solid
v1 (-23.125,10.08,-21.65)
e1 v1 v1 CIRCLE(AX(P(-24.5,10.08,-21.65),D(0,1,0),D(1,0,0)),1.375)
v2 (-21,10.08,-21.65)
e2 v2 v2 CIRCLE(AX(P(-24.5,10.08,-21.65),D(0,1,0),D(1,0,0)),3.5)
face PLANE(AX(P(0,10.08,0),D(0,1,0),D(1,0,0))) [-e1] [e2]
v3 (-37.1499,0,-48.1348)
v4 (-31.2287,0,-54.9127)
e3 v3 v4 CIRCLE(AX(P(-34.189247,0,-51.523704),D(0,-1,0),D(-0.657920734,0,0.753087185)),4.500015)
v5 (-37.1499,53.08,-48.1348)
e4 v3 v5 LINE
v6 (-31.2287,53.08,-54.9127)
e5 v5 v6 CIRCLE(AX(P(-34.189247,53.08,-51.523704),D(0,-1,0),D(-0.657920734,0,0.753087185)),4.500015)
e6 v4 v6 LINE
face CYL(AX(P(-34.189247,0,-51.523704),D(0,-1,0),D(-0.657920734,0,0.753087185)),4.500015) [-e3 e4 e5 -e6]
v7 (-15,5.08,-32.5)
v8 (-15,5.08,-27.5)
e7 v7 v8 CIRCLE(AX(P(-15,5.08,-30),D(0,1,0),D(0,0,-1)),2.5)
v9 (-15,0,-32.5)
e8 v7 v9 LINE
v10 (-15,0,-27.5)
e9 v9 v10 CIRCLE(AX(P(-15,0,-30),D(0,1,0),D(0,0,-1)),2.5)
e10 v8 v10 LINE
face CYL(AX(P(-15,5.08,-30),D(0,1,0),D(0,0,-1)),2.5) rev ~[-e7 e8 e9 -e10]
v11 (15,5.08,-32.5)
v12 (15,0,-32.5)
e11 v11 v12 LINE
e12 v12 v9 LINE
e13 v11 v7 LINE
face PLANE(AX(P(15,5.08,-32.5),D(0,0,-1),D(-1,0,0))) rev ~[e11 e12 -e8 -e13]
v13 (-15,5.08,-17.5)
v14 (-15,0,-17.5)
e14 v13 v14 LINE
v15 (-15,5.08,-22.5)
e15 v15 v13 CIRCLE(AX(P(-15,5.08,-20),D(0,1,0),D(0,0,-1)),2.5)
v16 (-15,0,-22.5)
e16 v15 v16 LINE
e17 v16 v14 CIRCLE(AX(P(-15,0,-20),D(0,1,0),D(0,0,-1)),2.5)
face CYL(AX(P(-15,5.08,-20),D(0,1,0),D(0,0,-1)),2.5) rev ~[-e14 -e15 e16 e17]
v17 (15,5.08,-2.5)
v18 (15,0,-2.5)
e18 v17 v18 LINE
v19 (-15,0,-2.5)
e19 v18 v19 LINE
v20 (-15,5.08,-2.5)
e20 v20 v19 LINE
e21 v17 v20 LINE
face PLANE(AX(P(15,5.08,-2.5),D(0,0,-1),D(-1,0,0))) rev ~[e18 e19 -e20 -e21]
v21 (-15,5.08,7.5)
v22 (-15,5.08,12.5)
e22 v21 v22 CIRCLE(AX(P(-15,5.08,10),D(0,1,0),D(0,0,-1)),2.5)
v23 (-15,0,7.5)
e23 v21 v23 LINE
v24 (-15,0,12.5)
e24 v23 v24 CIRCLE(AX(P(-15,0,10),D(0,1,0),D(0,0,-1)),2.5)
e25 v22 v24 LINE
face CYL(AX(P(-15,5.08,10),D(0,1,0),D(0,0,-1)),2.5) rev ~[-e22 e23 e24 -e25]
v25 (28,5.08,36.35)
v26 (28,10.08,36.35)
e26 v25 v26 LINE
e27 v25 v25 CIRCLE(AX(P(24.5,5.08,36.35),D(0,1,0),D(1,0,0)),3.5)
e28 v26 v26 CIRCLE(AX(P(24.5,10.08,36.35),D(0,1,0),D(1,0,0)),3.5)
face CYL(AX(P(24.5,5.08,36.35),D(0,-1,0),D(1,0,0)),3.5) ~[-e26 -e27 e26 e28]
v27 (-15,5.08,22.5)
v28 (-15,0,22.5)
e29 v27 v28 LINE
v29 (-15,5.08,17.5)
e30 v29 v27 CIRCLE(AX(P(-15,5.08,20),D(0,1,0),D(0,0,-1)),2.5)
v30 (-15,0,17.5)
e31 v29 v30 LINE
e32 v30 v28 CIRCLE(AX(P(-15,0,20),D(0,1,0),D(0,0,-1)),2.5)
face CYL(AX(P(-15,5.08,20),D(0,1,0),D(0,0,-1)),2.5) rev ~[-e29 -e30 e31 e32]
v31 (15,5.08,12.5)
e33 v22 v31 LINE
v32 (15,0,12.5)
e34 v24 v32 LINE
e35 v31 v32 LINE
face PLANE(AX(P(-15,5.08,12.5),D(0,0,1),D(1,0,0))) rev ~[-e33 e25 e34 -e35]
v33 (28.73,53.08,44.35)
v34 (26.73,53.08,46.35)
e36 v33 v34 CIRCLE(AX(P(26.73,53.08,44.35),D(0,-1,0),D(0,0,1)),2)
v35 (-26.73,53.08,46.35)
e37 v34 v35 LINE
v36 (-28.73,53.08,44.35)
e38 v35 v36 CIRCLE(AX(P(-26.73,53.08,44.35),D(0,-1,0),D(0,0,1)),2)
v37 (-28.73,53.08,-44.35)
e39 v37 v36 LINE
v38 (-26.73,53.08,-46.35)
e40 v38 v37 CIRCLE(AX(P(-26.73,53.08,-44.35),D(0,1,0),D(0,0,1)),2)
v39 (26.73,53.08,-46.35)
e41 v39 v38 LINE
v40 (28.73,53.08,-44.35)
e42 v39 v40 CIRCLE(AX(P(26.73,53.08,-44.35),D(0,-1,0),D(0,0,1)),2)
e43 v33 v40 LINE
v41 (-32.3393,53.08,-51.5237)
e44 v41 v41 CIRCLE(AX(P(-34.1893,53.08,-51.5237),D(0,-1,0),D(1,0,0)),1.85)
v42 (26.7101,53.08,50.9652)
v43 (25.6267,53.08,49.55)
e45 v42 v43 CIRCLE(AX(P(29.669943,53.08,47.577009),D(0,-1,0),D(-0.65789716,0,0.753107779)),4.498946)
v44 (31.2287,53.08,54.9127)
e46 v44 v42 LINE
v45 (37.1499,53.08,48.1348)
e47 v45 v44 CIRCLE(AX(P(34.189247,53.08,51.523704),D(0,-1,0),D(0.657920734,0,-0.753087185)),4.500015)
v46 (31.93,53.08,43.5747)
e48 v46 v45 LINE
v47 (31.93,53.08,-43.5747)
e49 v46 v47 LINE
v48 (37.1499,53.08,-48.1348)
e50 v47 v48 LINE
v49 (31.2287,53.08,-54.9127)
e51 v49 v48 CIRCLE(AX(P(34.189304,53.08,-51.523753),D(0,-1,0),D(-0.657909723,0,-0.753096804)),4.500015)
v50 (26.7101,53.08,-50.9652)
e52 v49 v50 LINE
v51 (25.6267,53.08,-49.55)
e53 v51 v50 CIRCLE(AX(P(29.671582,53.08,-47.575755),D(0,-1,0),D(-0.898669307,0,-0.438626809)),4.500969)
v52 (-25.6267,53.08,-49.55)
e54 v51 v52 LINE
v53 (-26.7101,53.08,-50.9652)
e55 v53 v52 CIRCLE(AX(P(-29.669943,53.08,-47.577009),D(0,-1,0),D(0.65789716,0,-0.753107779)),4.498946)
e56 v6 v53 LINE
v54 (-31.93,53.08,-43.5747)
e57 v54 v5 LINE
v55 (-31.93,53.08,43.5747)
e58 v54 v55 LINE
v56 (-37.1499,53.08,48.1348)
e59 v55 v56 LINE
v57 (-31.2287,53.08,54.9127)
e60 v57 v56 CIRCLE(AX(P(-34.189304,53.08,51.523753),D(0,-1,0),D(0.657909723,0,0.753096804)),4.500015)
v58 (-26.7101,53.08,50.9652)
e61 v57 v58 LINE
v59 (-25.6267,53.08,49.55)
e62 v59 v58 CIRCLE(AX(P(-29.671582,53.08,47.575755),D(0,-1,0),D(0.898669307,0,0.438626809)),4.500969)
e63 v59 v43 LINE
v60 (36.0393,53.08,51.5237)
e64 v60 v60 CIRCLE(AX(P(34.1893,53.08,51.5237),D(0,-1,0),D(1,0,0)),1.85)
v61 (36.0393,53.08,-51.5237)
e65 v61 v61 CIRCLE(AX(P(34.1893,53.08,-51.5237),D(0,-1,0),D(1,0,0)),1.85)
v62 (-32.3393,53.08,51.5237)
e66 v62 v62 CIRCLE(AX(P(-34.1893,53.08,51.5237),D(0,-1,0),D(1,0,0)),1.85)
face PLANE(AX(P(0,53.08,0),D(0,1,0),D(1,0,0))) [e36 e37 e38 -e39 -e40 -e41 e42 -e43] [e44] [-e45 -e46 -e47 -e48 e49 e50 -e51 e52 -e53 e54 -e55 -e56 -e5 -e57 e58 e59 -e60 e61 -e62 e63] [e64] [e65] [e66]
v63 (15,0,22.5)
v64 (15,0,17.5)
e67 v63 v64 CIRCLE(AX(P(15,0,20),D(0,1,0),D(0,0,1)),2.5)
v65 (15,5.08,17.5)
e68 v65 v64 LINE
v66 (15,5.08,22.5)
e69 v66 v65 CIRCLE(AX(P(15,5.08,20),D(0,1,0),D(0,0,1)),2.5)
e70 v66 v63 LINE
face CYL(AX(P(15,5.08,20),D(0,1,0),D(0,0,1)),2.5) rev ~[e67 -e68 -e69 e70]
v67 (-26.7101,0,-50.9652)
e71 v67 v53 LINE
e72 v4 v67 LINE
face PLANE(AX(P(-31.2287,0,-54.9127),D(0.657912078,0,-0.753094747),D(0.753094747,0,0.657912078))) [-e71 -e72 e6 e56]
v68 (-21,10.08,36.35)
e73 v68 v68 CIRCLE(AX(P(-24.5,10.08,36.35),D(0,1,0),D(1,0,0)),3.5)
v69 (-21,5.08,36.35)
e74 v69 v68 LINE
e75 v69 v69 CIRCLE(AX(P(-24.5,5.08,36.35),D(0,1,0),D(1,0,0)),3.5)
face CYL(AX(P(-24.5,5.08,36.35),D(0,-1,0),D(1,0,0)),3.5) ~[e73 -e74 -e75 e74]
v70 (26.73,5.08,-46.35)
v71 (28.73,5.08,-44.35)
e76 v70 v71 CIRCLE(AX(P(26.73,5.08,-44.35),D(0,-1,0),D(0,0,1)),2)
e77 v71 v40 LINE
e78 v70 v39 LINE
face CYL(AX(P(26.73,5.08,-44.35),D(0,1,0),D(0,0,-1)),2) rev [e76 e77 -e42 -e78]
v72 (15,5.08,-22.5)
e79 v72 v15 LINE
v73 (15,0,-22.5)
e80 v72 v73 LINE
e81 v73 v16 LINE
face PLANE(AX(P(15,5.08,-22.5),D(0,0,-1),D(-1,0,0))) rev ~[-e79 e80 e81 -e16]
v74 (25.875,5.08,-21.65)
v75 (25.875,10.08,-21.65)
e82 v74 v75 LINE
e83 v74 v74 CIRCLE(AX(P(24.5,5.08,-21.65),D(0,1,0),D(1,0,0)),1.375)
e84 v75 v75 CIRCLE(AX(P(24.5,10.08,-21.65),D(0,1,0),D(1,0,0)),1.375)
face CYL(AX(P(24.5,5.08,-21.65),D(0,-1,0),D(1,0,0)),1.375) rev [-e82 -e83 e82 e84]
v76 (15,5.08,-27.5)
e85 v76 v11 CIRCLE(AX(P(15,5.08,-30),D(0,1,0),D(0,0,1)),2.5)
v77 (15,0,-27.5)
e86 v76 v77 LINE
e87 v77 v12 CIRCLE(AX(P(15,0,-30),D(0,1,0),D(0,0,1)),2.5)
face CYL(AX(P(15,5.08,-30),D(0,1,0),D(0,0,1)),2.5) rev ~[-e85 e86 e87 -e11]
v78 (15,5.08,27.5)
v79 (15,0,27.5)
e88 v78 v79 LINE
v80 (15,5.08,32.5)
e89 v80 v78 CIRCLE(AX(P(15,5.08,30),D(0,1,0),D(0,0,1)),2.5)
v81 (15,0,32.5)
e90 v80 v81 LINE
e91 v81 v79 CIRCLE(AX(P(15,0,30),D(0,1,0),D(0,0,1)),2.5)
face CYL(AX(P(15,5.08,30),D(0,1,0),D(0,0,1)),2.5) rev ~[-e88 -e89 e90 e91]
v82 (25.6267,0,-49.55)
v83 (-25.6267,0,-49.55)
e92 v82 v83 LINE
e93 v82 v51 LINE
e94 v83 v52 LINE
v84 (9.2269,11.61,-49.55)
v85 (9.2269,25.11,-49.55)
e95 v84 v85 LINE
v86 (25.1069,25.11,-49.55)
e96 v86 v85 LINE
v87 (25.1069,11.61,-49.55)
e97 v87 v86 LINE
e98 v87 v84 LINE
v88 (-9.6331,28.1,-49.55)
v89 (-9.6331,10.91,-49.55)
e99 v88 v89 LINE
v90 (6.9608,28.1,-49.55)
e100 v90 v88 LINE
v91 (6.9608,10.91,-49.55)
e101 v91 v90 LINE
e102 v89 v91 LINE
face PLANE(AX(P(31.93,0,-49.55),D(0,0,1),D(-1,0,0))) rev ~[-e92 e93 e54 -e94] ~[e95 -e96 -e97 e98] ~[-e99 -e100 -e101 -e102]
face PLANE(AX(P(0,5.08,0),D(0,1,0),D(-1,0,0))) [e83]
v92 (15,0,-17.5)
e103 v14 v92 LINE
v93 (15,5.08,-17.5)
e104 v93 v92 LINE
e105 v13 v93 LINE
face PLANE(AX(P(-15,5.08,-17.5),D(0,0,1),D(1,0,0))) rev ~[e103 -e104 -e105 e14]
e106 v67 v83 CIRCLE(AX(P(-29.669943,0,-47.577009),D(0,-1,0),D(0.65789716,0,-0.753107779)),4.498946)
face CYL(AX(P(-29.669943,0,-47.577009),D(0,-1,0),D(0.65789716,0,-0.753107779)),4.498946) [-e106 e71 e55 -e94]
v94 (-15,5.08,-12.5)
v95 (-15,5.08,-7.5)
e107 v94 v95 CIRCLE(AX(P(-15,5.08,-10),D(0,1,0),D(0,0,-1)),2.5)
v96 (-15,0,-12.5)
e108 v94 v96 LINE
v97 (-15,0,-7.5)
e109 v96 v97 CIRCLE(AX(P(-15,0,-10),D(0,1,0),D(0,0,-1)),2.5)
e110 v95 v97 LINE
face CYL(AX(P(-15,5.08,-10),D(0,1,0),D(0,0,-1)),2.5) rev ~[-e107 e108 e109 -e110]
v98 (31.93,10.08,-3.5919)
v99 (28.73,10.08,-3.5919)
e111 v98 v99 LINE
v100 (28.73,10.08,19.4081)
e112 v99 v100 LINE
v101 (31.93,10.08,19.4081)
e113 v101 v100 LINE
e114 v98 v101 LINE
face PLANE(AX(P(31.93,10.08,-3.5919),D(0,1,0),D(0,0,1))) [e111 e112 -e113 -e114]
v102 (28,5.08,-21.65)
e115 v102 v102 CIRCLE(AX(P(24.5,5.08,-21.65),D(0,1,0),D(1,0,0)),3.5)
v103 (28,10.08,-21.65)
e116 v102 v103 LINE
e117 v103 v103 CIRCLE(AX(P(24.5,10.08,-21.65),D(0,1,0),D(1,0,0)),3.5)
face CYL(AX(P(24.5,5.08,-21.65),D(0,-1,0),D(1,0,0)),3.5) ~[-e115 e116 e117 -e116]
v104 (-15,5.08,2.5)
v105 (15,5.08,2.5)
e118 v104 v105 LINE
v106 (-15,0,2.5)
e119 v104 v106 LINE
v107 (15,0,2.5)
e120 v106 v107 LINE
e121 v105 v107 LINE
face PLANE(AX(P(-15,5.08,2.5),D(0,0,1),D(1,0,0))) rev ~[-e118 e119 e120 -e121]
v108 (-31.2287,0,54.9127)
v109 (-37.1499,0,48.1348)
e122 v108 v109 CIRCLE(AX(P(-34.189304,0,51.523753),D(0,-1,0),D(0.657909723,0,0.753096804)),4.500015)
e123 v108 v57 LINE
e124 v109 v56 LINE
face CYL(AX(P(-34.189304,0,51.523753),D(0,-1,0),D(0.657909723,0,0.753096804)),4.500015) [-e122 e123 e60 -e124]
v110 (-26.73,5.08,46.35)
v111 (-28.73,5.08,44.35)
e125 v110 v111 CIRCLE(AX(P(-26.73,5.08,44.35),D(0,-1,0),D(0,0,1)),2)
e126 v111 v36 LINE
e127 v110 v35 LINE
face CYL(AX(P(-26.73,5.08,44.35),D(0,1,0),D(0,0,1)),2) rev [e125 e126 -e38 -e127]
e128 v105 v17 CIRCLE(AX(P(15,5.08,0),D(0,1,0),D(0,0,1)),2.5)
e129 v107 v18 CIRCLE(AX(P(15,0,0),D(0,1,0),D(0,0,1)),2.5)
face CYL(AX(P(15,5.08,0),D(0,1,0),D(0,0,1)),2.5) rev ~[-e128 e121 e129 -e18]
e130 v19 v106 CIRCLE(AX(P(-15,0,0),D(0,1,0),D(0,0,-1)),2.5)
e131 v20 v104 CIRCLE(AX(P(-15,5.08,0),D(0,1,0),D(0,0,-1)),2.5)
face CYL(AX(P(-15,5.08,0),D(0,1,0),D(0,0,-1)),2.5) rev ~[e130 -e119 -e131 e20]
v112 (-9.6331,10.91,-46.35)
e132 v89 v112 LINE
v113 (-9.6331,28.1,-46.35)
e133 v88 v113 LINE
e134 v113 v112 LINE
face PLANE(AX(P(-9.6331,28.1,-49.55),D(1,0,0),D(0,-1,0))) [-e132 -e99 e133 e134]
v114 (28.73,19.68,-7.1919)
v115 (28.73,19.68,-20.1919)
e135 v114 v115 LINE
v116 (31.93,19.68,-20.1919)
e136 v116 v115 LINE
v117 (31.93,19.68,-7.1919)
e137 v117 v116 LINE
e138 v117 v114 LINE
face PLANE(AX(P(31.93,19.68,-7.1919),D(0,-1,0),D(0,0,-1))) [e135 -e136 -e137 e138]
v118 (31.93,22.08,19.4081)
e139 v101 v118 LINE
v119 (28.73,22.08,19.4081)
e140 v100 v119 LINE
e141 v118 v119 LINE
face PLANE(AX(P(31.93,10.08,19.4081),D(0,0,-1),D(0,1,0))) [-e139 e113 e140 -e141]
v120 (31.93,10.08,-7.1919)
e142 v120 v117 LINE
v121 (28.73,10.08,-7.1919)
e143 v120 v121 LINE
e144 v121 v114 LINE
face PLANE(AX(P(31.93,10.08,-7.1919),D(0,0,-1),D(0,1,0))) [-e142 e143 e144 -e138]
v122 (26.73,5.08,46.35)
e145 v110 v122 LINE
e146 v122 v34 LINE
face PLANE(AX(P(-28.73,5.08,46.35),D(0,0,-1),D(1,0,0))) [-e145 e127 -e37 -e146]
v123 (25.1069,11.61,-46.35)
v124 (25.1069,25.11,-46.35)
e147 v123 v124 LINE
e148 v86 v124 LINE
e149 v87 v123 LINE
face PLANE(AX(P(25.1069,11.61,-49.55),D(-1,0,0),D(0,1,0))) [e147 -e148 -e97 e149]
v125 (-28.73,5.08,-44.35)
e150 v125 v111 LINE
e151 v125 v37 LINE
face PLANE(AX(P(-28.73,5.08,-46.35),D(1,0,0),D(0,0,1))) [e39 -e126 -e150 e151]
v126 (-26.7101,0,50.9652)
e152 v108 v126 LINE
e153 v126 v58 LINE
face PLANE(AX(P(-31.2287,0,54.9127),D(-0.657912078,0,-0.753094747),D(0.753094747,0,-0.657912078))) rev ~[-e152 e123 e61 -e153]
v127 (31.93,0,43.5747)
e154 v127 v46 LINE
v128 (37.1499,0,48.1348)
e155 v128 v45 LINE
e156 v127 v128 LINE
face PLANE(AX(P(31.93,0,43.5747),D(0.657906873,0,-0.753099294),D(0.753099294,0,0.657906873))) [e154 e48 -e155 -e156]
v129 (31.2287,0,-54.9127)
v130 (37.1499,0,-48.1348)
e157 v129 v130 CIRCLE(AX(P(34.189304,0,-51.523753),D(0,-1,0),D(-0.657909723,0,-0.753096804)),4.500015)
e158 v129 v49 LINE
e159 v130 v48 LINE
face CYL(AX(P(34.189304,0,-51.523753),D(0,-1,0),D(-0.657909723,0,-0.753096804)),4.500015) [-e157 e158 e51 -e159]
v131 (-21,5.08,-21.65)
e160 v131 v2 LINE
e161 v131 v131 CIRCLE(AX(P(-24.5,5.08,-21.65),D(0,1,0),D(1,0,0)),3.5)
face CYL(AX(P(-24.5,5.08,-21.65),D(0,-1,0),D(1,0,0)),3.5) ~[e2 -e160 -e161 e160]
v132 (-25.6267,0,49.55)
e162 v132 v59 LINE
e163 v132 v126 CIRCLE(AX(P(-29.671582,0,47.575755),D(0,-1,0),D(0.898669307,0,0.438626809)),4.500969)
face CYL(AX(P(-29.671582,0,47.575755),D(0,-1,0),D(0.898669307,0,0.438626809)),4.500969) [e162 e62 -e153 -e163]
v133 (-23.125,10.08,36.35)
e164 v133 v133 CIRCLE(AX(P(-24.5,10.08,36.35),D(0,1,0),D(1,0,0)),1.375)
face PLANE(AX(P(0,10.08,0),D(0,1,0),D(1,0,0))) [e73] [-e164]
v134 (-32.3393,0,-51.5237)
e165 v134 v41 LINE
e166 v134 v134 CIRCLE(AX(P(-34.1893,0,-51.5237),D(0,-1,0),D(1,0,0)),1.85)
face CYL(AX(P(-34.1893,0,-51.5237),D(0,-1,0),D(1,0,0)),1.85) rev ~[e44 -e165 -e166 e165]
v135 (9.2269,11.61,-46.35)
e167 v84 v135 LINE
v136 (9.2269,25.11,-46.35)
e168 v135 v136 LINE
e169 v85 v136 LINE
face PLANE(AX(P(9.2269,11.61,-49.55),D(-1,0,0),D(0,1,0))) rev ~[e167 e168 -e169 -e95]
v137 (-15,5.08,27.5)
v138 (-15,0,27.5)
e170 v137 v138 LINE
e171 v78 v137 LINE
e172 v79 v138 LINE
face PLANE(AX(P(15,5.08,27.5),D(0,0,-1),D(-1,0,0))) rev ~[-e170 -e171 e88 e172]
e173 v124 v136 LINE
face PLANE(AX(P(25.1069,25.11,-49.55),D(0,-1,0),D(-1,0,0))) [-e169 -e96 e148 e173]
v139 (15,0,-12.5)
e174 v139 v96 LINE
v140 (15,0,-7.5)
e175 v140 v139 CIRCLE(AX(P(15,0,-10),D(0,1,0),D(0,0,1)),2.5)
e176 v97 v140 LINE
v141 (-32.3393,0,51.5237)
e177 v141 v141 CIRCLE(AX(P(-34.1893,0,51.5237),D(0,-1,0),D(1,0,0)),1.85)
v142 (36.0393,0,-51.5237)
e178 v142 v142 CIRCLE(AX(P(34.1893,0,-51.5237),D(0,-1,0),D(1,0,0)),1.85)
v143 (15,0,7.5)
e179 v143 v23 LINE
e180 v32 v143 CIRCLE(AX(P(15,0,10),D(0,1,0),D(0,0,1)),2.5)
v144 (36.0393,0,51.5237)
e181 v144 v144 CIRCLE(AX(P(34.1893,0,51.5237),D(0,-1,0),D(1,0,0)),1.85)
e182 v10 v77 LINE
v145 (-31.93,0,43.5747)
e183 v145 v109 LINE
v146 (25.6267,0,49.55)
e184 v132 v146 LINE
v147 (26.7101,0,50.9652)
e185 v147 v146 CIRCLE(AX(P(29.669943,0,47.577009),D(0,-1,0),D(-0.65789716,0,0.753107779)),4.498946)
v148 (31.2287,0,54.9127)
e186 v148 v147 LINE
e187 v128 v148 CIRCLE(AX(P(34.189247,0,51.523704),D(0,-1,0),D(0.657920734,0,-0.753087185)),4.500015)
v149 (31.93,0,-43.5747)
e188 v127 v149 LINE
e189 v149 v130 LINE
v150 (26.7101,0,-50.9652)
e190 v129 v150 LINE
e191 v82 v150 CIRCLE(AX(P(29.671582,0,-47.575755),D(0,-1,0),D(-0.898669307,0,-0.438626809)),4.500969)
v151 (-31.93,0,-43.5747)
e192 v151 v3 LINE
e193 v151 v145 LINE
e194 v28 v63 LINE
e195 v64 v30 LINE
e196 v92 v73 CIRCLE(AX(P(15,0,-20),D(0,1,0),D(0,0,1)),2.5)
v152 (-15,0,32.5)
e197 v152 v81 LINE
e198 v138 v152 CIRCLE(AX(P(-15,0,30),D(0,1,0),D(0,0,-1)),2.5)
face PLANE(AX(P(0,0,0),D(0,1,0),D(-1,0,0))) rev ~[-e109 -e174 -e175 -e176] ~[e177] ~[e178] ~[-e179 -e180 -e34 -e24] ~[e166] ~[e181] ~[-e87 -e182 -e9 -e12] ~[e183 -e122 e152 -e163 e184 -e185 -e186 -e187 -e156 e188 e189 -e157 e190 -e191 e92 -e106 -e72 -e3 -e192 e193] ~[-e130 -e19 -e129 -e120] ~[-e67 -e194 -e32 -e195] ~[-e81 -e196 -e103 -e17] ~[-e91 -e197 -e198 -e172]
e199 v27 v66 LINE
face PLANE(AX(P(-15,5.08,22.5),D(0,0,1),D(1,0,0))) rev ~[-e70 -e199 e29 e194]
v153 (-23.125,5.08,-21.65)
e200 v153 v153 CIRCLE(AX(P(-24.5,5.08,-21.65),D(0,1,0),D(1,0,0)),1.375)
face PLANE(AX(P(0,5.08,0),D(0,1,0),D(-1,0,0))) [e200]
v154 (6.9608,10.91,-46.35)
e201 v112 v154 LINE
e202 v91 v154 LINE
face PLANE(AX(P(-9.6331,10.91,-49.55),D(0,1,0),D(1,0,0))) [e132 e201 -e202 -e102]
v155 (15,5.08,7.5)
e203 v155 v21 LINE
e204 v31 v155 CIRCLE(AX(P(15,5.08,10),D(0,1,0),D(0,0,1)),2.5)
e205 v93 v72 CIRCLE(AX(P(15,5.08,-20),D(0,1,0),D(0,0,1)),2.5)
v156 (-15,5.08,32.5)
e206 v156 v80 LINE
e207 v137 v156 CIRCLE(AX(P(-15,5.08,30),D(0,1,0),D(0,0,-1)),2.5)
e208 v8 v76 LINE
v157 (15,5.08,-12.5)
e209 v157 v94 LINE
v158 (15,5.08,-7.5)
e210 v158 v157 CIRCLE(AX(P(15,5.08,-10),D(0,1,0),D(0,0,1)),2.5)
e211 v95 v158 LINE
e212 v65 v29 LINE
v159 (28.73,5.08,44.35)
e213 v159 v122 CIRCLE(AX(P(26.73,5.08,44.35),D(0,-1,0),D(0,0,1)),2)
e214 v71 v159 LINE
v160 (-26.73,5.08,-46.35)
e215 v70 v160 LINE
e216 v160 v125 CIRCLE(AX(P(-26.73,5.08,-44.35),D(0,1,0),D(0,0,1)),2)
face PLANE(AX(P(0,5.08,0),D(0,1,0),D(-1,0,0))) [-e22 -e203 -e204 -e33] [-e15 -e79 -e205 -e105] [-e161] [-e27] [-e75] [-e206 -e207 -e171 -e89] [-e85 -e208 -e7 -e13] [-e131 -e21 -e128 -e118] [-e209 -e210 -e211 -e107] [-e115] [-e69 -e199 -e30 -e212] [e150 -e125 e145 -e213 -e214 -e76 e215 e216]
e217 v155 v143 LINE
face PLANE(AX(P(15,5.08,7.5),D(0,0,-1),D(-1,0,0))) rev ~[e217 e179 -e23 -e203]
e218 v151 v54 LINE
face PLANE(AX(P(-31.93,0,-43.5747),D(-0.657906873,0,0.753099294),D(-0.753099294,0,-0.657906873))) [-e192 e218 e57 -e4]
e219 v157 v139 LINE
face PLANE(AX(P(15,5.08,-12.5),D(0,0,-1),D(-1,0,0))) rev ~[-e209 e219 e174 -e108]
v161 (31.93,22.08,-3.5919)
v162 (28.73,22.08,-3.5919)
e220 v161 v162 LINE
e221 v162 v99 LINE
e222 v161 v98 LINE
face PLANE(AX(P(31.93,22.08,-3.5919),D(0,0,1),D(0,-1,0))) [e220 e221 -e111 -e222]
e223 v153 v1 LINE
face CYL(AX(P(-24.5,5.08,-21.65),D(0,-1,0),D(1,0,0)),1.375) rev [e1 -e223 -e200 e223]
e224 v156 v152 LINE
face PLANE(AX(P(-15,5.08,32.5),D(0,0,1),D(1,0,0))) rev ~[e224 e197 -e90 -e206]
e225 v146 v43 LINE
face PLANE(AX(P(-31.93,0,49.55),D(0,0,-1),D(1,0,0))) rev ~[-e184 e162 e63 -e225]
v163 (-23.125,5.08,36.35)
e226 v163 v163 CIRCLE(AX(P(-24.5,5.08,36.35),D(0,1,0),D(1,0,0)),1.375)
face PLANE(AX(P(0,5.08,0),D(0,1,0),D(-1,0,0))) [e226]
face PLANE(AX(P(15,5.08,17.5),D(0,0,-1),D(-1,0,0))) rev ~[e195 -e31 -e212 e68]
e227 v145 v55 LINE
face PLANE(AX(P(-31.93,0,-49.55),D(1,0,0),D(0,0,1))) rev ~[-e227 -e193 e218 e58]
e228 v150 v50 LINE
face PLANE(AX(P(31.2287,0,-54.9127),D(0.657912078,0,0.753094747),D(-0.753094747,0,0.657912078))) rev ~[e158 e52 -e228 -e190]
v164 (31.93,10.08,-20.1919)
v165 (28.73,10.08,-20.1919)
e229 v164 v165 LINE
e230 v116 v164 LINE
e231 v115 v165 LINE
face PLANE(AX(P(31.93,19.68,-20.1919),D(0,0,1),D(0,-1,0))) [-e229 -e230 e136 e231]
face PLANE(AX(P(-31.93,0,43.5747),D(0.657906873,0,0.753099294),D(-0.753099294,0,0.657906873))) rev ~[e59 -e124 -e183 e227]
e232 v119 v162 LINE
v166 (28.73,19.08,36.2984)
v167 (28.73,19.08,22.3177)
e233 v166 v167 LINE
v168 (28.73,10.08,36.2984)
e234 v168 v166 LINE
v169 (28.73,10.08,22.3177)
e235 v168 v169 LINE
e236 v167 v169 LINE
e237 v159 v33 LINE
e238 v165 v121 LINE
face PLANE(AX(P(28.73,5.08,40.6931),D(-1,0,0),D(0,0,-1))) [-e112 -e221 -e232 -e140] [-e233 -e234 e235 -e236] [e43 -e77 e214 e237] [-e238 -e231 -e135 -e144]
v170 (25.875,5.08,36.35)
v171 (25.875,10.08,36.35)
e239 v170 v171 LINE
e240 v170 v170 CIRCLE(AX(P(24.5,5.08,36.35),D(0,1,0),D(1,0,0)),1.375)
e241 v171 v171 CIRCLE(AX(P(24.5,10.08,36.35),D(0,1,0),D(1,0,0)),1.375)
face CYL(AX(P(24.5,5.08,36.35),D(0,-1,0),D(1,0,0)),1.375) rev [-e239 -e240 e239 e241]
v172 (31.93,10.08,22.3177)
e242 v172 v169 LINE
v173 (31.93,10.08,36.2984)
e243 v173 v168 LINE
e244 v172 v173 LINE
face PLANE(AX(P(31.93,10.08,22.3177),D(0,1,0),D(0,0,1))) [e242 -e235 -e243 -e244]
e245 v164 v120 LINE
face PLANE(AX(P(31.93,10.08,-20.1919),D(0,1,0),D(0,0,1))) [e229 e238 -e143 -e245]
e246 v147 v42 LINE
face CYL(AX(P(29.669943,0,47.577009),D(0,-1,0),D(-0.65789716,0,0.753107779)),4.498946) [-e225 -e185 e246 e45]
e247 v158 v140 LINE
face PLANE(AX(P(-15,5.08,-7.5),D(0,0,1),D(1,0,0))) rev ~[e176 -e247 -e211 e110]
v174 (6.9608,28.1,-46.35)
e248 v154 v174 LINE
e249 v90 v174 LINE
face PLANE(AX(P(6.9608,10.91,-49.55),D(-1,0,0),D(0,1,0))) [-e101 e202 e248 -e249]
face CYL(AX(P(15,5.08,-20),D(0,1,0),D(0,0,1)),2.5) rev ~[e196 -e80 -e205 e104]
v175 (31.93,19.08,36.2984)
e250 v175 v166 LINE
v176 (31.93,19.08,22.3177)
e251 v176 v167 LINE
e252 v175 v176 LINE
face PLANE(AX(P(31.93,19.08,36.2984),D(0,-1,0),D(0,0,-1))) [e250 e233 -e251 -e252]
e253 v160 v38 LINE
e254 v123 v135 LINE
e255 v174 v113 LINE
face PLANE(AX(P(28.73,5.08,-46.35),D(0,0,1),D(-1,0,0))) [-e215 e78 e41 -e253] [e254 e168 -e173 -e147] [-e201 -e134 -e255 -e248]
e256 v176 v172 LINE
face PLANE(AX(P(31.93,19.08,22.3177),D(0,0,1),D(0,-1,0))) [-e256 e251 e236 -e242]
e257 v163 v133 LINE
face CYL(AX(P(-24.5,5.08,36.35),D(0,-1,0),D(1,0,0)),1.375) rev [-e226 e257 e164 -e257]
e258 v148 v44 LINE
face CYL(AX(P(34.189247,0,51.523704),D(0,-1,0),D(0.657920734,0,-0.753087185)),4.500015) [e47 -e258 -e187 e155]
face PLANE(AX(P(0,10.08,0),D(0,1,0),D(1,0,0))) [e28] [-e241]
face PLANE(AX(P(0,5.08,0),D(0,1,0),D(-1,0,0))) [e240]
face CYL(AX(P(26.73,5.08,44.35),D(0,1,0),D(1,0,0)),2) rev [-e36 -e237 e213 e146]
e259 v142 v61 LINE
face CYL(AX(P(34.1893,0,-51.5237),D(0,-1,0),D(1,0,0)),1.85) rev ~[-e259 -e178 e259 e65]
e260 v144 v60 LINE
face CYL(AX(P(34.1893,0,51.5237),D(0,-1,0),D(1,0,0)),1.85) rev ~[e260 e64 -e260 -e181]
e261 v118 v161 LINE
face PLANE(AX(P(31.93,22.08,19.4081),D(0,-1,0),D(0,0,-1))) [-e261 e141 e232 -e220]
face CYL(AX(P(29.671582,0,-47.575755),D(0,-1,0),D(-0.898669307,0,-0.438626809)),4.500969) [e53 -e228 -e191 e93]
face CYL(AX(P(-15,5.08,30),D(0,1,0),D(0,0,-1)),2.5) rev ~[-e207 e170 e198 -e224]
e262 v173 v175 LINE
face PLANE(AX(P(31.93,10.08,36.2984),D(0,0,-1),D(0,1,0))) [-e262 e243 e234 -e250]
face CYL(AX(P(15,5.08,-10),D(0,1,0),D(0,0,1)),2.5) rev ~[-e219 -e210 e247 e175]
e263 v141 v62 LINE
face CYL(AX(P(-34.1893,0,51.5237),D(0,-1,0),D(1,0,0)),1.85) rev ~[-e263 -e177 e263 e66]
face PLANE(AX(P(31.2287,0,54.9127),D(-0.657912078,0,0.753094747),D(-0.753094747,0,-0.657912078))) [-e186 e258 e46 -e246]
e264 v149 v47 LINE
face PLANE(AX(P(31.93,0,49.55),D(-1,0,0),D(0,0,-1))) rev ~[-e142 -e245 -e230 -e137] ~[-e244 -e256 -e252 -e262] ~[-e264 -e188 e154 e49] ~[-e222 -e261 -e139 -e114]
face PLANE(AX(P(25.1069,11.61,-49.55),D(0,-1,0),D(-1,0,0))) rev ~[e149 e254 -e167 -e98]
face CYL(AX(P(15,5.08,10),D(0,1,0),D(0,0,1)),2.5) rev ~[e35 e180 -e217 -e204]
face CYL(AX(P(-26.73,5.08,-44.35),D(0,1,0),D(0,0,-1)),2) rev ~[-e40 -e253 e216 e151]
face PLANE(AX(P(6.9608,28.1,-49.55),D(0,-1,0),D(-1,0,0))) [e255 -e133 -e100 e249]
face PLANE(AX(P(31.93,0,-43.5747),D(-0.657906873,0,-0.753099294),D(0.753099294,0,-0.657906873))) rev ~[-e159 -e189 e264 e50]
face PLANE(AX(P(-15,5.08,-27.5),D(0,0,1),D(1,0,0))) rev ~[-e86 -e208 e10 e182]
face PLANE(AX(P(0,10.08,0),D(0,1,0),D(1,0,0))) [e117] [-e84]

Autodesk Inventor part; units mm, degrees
ref_plane "YZ Plane" through (0, 0, 0) normal (1, 0, 0) x (0, 1, 0)
ref_plane "XZ Plane" through (0, 0, 0) normal (0, 1, 0) x (-1, 0, 0)
ref_plane "XY Plane" through (0, 0, 0) normal (0, 0, 1) x (1, 0, 0)
sketch "Sketch1" plane through (0, 0, 0) normal (0, 1, 0) x (-1, 0, 0)
  line L0 (-31.93, -49.55) -> (31.93, -49.55)
  line L1 (31.93, -49.55) -> (31.93, 49.55)
  line L2 (31.93, 49.55) -> (-31.93, 49.55)
  line L3 (-31.93, 49.55) -> (-31.93, -49.55)
  line L4 (-31.93, -49.55) -> (31.93, 49.55) construction
  line L5 (31.93, -49.55) -> (-31.93, 49.55) construction
  point P0 (0, 0)
  dimension "d0" = 63.86
  dimension "d1" = 99.1
extrude "Extrusion1" add sketch "Sketch1" along normal blind 5.08
sketch "Sketch2" plane through (0, 5.08, 0) normal (0, 1, 0) x (1, 0, 0)
  line L0 (28.73, 46.35) -> (-28.73, 46.35)
  line L1 (-28.73, 46.35) -> (-28.73, -46.35)
  line L2 (-28.73, -46.35) -> (28.73, -46.35)
  line L3 (28.73, -46.35) -> (28.73, 46.35)
  line L4 (28.73, 46.35) -> (-28.73, -46.35) construction
  line L5 (-28.73, 46.35) -> (28.73, -46.35) construction
  line L6 (-31.93, 49.55) -> (-31.93, -49.55) projected
  line L7 (-31.93, -49.55) -> (31.93, -49.55) projected
  line L8 (31.93, 49.55) -> (-31.93, 49.55) projected
  line L9 (31.93, -49.55) -> (31.93, 49.55) projected
  line L10 (25.53, -43.15) -> (31.93, -49.55) construction
  line L11 (23.0731, -46.35) -> (29.1016, -52.3784)
  line L12 (34.7584, -46.7216) -> (28.73, -40.6931)
  arc A0 (29.1016, -52.3784) -> (34.7584, -46.7216) centre (31.93, -49.55) ccw
  circle A1 centre (31.93, -49.55) radius 1.375
  point P0 (0, 0)
  dimension "d4" = 3.2
  dimension "d5" = 3.2
  dimension "d22" = 8
  dimension "d23" = 2.75
extrude "Extrusion2" add sketch "Sketch2" along normal blind 48 contours L0 L1 L2 L11 L7 L6 L8 L9 L12 L3 | L12 L9 A1 L7 L11 L2 L3 | L9 L7 A1 picked at (31.2859, -48.9059)
sketch "Sketch3" plane through (0, 5.08, 0) normal (0, 1, 0) x (1, 0, 0)
  line L0 (28.73, -46.35) -> (-28.73, -46.35) construction
  line L1 (0, -46.35) -> (0, 46.35) construction
  line L2 (28.73, 46.35) -> (-28.73, 46.35) construction
  circle A0 centre (-24.5, -36.35) radius 3.5
  circle A1 centre (-24.5, -36.35) radius 1.375
  line L3 (28.73, 46.35) -> (28.73, -46.35) construction
  line L4 (28.73, 0) -> (-28.73, 0) construction
  line L5 (-28.73, -46.35) -> (-28.73, 46.35) construction
  circle A2 centre (-24.5, 21.65) radius 3.5
  circle A3 centre (-24.5, 21.65) radius 1.375
  circle A4 centre (24.5, -36.35) radius 3.5
  circle A5 centre (24.5, -36.35) radius 1.375
  circle A6 centre (24.5, 21.65) radius 3.5
  circle A7 centre (24.5, 21.65) radius 1.375
  point P0 (0, 0)
  dimension "d8" = 7
  dimension "d9" = 2.75
  dimension "d10" = 10
  dimension "d11" = 24.5
  dimension "d14" = 58
extrude "Extrusion3" add sketch "Sketch3" along normal blind 5
sketch "Sketch4" plane through (0, 0, 0) normal (0, -1, 0) x (1, 0, 0)
  line L0 (29.6707, 47.5763) -> (34.1893, 51.5237) construction
  line L1 (31.93, 49.55) -> (31.93, -49.55) projected
  line L2 (31.93, 43.5747) -> (37.1499, 48.1348)
  line L3 (31.2287, 54.9127) -> (26.7101, 50.9652)
  arc A0 (26.7101, 50.9652) -> (25.6267, 49.55) centre (29.6707, 47.5763) ccw
  arc A1 (37.1499, 48.1348) -> (31.2287, 54.9127) centre (34.1893, 51.5237) ccw
  line L4 (-31.93, 49.55) -> (31.93, 49.55) projected
  line L5 (25.6267, 49.55) -> (31.93, 49.55)
  line L6 (31.93, 49.55) -> (31.93, 43.5747)
  circle A2 centre (34.1893, 51.5237) radius 1.85
  line L7 (0, 49.55) -> (0, -49.55) construction
  line L8 (31.93, -49.55) -> (-31.93, -49.55) construction
  line L9 (31.93, 0) -> (-33.3, 0) construction
  line L10 (31.93, -49.55) -> (31.93, 49.55)
  line L11 (31.93, -43.5747) -> (37.1499, -48.1348)
  line L12 (31.2287, -54.9127) -> (26.7101, -50.9652)
  arc A3 (25.6267, -49.55) -> (26.7101, -50.9652) centre (29.6707, -47.5763) ccw
  arc A4 (31.2287, -54.9127) -> (37.1499, -48.1348) centre (34.1893, -51.5237) ccw
  line L13 (-31.93, -49.55) -> (31.93, -49.55)
  circle A5 centre (34.1893, -51.5237) radius 1.85
  line L14 (-31.93, 49.55) -> (-31.93, -49.55)
  line L15 (-31.93, 43.5747) -> (-37.1499, 48.1348)
  line L16 (-31.2287, 54.9127) -> (-26.7101, 50.9652)
  arc A6 (-25.6267, 49.55) -> (-26.7101, 50.9652) centre (-29.6707, 47.5763) ccw
  arc A7 (-31.2287, 54.9127) -> (-37.1499, 48.1348) centre (-34.1893, 51.5237) ccw
  line L17 (-25.6267, 49.55) -> (-31.93, 49.55)
  circle A8 centre (-34.1893, 51.5237) radius 1.85
  arc A9 (-37.1499, -48.1348) -> (-31.2287, -54.9127) centre (-34.1893, -51.5237) ccw
  line L18 (-31.93, -43.5747) -> (-37.1499, -48.1348)
  line L19 (-31.2287, -54.9127) -> (-26.7101, -50.9652)
  arc A10 (-26.7101, -50.9652) -> (-25.6267, -49.55) centre (-29.6707, -47.5763) ccw
  circle A11 centre (-34.1893, -51.5237) radius 1.85
  line L20 (-25.6267, -49.55) -> (-31.93, -49.55)
  line L21 (-31.93, -49.55) -> (-31.93, 49.55)
  point P0 (0, 0)
  point P1 (-31.93, -43.5747)
  point P2 (31.93, -43.5747)
  point P3 (31.93, -49.55)
  dimension "d24" = 3
  dimension "d25" = 9
  dimension "d26" = 131.141
  dimension "d27" = 3.7
extrude "Extrusion4" add sketch "Sketch4" against normal up to surface (53.08 mm away) contours L4 A0 L3 A1 L2 L1 | L11 A4 L12 A3 L13 L1 | L4 L14 L15 A7 L16 A6 | A10 L19 A9 L18 L14 L13
fillet "Fillet2" radius 2 4 edges at (28.73, 29.08, -46.35) (-28.73, 29.08, -46.35) (-28.73, 29.08, 46.35) (28.73, 29.08, 46.35)
sketch "Sketch5" plane through (0, 5.08, 0) normal (0, 1, 0) x (1, 0, 0)
  line L0 (15, 0) -> (-15, 0) construction
  line L1 (15, 2.5) -> (-15, 2.5)
  line L2 (-15, -2.5) -> (15, -2.5)
  arc A0 (15, -2.5) -> (15, 2.5) centre (15, 0) ccw
  arc A1 (-15, 2.5) -> (-15, -2.5) centre (-15, 0) ccw
  line L3 (-26.73, -46.35) -> (26.73, -46.35) construction
  line L4 (0, -46.35) -> (0, 46.35) construction
  line L5 (-26.73, 46.35) -> (26.73, 46.35) construction
  arc A2 (-15, 12.5) -> (-15, 7.5) centre (-15, 10) ccw
  line L6 (15, 12.5) -> (-15, 12.5)
  line L7 (-15, 7.5) -> (15, 7.5)
  arc A3 (15, 7.5) -> (15, 12.5) centre (15, 10) ccw
  arc A4 (-15, 22.5) -> (-15, 17.5) centre (-15, 20) ccw
  line L8 (15, 22.5) -> (-15, 22.5)
  line L9 (-15, 17.5) -> (15, 17.5)
  arc A5 (15, 17.5) -> (15, 22.5) centre (15, 20) ccw
  arc A6 (-15, 32.5) -> (-15, 27.5) centre (-15, 30) ccw
  line L10 (15, 32.5) -> (-15, 32.5)
  line L11 (-15, 27.5) -> (15, 27.5)
  arc A7 (15, 27.5) -> (15, 32.5) centre (15, 30) ccw
  arc A8 (-15, -7.5) -> (-15, -12.5) centre (-15, -10) ccw
  line L12 (-15, -12.5) -> (15, -12.5)
  line L13 (15, -7.5) -> (-15, -7.5)
  arc A9 (15, -12.5) -> (15, -7.5) centre (15, -10) ccw
  arc A10 (-15, -17.5) -> (-15, -22.5) centre (-15, -20) ccw
  line L14 (-15, -22.5) -> (15, -22.5)
  line L15 (15, -17.5) -> (-15, -17.5)
  arc A11 (15, -22.5) -> (15, -17.5) centre (15, -20) ccw
  arc A12 (-15, -27.5) -> (-15, -32.5) centre (-15, -30) ccw
  line L16 (-15, -32.5) -> (15, -32.5)
  line L17 (15, -27.5) -> (-15, -27.5)
  arc A13 (15, -32.5) -> (15, -27.5) centre (15, -30) ccw
  point P0 (0, 0)
  dimension "d31" = 15
  dimension "d32" = 5
  dimension "d35" = 10
  dimension "d42" = 10
extrude "Extrusion5" cut sketch "Sketch5" against normal up to surface (5.08 mm away)
sketch "Sketch12" plane through (31.93, 0, 43.5747) normal (1, 0, 0) x (0, 0, -1)
  line L0 (0, 53.08) -> (0, 0) projected
  line L1 (28.1666, 16.69) -> (28.1666, 14.2116) projected
  line L2 (43.1666, 14.2116) -> (43.1666, 16.69) projected
  line L3 (10.2763, 12.8971) -> (10.2763, 13.09) projected
  line L4 (18.257, 13.09) -> (18.257, 12.8971) projected
  line L5 (53.7666, 17.41) -> (53.7666, 11.41) projected
  line L6 (60.7666, 11.41) -> (60.7666, 17.41) projected
  line L7 (11.2666, 14.1354) -> (17.2666, 14.1354) projected
  line L8 (21.0747, 5.08) -> (26.0747, 5.08) projected
  line L9 (26.0747, 5.08) -> (21.0747, 5.08) projected
  line L10 (41.0747, 5.08) -> (46.0747, 5.08) projected
  line L11 (46.0747, 5.08) -> (41.0747, 5.08) projected
  line L12 (51.0747, 5.08) -> (56.0747, 5.08) projected
  line L13 (56.0747, 5.08) -> (51.0747, 5.08) projected
  line L14 (61.0747, 5.08) -> (66.0747, 5.08) projected
  line L15 (66.0747, 5.08) -> (61.0747, 5.08) projected
  line L16 (11.0747, 5.08) -> (16.0747, 5.08) projected
  line L17 (16.0747, 5.08) -> (11.0747, 5.08) projected
  line L18 (31.0747, 5.08) -> (36.0747, 5.08) projected
  line L19 (36.0747, 5.08) -> (31.0747, 5.08) projected
  line L20 (71.0747, 5.08) -> (76.0747, 5.08) projected
  line L21 (76.0747, 5.08) -> (71.0747, 5.08) projected
  line L22 (3.7247, 5.08) -> (10.7247, 5.08) projected
  line L23 (3.7247, 5.08) -> (10.7247, 5.08) projected
  line L24 (61.7247, 5.08) -> (68.7247, 5.08) projected
  line L25 (61.7247, 5.08) -> (68.7247, 5.08) projected
  line L26 (-2.7753, 5.08) -> (-0.7753, 5.08) projected
  line L27 (-0.7753, 5.08) -> (87.9247, 5.08) projected
  line L28 (87.9247, 5.08) -> (89.9247, 5.08) projected
  line L29 (89.9247, 5.08) -> (87.9247, 5.08) projected
  line L30 (87.9247, 5.08) -> (-0.7753, 5.08) projected
  line L31 (-0.7753, 5.08) -> (-2.7753, 5.08) projected
  line L32 (5.8497, 10.08) -> (8.5997, 10.08) projected
  line L33 (10.2763, 12.9936) -> (18.257, 12.9936) construction
  line L34 (14.2666, 14.1354) -> (14.2666, 12.9936) construction
  line L35 (7.2763, 19.08) -> (21.257, 19.08)
  line L36 (21.257, 19.08) -> (21.257, 10.08)
  line L37 (21.257, 10.08) -> (7.2763, 10.08)
  line L38 (7.2763, 10.08) -> (7.2763, 19.08)
  line L39 (42.3666, 17.49) -> (28.9666, 17.49) projected
  line L40 (47.1666, 10.08) -> (24.1666, 10.08)
  line L41 (24.1666, 10.08) -> (24.1666, 22.08)
  line L42 (24.1666, 22.08) -> (47.1666, 22.08)
  line L43 (47.1666, 22.08) -> (47.1666, 10.08)
  line L44 (60.7666, 17.41) -> (57.2666, 17.41) projected
  line L45 (63.7666, 10.08) -> (50.7666, 10.08)
  line L46 (50.7666, 10.08) -> (50.7666, 19.68)
  line L47 (50.7666, 19.68) -> (63.7666, 19.68)
  line L48 (63.7666, 19.68) -> (63.7666, 10.08)
  point P0 (43.5747, 0)
  dimension "d99" = 3
  dimension "d100" = 3
  dimension "d101" = 0
  dimension "d102" = 9
  dimension "d103" = 4
  dimension "d104" = 4
  dimension "d105" = 0
  dimension "d106" = 12
  dimension "d108" = 3
  dimension "d109" = 3
  dimension "d110" = 0
  dimension "d111" = 9.6
extrude "Extrusion9" cut sketch "Sketch12" against normal up to surface (3.2 mm away)
sketch "Sketch14" plane through (25.6267, 0, -49.55) normal (0, 0, -1) x (-1, 0, 0)
  line L0 (0.5198, 11.61) -> (0.5198, 25.11) projected
  line L1 (16.3998, 11.61) -> (16.3998, 25.11) projected
  line L2 (0.5198, 25.11) -> (16.3998, 25.11) projected
  line L3 (0.5198, 11.61) -> (16.3998, 11.61) projected
  line L4 (0.5198, 18.36) -> (16.3998, 18.36) construction
  line L5 (16.8998, 11.11) -> (0.2698, 11.11)
  line L6 (0.2698, 11.11) -> (0.2698, 25.61)
  line L7 (0.2698, 25.61) -> (16.8998, 25.61)
  line L8 (16.8998, 25.61) -> (16.8998, 11.11)
  line L9 (24.2098, 27.1) -> (30.2098, 27.1) projected
  line L10 (34.7598, 21.3896) -> (34.7598, 18.3896) projected
  line L11 (19.6598, 18.3896) -> (19.6598, 21.3896) projected
  line L12 (25.6198, 11.41) -> (28.7998, 11.41) projected
  line L13 (35.2598, 10.91) -> (18.6659, 10.91)
  line L14 (18.6659, 10.91) -> (18.6659, 28.1)
  line L15 (18.6659, 28.1) -> (35.2598, 28.1)
  line L16 (35.2598, 28.1) -> (35.2598, 10.91)
  line L17 (19.1659, 18.3896) -> (19.1659, 21.3896) projected
  point P0 (25.6267, 0)
  dimension "d114" = 0.5
  dimension "d115" = 0.5
  dimension "d116" = 0.25
  dimension "d117" = 0.5
  dimension "d120" = 1
  dimension "d122" = 0.5
  dimension "d123" = 0.5
  dimension "d124" = 0.5
extrude "Extrusion10" cut sketch "Sketch14" against normal up to surface (3.2 mm away) contours L0 L2 L1 L3 | L13 L14 L15 L16
properties part number "Test" material "ABS Plastic"
